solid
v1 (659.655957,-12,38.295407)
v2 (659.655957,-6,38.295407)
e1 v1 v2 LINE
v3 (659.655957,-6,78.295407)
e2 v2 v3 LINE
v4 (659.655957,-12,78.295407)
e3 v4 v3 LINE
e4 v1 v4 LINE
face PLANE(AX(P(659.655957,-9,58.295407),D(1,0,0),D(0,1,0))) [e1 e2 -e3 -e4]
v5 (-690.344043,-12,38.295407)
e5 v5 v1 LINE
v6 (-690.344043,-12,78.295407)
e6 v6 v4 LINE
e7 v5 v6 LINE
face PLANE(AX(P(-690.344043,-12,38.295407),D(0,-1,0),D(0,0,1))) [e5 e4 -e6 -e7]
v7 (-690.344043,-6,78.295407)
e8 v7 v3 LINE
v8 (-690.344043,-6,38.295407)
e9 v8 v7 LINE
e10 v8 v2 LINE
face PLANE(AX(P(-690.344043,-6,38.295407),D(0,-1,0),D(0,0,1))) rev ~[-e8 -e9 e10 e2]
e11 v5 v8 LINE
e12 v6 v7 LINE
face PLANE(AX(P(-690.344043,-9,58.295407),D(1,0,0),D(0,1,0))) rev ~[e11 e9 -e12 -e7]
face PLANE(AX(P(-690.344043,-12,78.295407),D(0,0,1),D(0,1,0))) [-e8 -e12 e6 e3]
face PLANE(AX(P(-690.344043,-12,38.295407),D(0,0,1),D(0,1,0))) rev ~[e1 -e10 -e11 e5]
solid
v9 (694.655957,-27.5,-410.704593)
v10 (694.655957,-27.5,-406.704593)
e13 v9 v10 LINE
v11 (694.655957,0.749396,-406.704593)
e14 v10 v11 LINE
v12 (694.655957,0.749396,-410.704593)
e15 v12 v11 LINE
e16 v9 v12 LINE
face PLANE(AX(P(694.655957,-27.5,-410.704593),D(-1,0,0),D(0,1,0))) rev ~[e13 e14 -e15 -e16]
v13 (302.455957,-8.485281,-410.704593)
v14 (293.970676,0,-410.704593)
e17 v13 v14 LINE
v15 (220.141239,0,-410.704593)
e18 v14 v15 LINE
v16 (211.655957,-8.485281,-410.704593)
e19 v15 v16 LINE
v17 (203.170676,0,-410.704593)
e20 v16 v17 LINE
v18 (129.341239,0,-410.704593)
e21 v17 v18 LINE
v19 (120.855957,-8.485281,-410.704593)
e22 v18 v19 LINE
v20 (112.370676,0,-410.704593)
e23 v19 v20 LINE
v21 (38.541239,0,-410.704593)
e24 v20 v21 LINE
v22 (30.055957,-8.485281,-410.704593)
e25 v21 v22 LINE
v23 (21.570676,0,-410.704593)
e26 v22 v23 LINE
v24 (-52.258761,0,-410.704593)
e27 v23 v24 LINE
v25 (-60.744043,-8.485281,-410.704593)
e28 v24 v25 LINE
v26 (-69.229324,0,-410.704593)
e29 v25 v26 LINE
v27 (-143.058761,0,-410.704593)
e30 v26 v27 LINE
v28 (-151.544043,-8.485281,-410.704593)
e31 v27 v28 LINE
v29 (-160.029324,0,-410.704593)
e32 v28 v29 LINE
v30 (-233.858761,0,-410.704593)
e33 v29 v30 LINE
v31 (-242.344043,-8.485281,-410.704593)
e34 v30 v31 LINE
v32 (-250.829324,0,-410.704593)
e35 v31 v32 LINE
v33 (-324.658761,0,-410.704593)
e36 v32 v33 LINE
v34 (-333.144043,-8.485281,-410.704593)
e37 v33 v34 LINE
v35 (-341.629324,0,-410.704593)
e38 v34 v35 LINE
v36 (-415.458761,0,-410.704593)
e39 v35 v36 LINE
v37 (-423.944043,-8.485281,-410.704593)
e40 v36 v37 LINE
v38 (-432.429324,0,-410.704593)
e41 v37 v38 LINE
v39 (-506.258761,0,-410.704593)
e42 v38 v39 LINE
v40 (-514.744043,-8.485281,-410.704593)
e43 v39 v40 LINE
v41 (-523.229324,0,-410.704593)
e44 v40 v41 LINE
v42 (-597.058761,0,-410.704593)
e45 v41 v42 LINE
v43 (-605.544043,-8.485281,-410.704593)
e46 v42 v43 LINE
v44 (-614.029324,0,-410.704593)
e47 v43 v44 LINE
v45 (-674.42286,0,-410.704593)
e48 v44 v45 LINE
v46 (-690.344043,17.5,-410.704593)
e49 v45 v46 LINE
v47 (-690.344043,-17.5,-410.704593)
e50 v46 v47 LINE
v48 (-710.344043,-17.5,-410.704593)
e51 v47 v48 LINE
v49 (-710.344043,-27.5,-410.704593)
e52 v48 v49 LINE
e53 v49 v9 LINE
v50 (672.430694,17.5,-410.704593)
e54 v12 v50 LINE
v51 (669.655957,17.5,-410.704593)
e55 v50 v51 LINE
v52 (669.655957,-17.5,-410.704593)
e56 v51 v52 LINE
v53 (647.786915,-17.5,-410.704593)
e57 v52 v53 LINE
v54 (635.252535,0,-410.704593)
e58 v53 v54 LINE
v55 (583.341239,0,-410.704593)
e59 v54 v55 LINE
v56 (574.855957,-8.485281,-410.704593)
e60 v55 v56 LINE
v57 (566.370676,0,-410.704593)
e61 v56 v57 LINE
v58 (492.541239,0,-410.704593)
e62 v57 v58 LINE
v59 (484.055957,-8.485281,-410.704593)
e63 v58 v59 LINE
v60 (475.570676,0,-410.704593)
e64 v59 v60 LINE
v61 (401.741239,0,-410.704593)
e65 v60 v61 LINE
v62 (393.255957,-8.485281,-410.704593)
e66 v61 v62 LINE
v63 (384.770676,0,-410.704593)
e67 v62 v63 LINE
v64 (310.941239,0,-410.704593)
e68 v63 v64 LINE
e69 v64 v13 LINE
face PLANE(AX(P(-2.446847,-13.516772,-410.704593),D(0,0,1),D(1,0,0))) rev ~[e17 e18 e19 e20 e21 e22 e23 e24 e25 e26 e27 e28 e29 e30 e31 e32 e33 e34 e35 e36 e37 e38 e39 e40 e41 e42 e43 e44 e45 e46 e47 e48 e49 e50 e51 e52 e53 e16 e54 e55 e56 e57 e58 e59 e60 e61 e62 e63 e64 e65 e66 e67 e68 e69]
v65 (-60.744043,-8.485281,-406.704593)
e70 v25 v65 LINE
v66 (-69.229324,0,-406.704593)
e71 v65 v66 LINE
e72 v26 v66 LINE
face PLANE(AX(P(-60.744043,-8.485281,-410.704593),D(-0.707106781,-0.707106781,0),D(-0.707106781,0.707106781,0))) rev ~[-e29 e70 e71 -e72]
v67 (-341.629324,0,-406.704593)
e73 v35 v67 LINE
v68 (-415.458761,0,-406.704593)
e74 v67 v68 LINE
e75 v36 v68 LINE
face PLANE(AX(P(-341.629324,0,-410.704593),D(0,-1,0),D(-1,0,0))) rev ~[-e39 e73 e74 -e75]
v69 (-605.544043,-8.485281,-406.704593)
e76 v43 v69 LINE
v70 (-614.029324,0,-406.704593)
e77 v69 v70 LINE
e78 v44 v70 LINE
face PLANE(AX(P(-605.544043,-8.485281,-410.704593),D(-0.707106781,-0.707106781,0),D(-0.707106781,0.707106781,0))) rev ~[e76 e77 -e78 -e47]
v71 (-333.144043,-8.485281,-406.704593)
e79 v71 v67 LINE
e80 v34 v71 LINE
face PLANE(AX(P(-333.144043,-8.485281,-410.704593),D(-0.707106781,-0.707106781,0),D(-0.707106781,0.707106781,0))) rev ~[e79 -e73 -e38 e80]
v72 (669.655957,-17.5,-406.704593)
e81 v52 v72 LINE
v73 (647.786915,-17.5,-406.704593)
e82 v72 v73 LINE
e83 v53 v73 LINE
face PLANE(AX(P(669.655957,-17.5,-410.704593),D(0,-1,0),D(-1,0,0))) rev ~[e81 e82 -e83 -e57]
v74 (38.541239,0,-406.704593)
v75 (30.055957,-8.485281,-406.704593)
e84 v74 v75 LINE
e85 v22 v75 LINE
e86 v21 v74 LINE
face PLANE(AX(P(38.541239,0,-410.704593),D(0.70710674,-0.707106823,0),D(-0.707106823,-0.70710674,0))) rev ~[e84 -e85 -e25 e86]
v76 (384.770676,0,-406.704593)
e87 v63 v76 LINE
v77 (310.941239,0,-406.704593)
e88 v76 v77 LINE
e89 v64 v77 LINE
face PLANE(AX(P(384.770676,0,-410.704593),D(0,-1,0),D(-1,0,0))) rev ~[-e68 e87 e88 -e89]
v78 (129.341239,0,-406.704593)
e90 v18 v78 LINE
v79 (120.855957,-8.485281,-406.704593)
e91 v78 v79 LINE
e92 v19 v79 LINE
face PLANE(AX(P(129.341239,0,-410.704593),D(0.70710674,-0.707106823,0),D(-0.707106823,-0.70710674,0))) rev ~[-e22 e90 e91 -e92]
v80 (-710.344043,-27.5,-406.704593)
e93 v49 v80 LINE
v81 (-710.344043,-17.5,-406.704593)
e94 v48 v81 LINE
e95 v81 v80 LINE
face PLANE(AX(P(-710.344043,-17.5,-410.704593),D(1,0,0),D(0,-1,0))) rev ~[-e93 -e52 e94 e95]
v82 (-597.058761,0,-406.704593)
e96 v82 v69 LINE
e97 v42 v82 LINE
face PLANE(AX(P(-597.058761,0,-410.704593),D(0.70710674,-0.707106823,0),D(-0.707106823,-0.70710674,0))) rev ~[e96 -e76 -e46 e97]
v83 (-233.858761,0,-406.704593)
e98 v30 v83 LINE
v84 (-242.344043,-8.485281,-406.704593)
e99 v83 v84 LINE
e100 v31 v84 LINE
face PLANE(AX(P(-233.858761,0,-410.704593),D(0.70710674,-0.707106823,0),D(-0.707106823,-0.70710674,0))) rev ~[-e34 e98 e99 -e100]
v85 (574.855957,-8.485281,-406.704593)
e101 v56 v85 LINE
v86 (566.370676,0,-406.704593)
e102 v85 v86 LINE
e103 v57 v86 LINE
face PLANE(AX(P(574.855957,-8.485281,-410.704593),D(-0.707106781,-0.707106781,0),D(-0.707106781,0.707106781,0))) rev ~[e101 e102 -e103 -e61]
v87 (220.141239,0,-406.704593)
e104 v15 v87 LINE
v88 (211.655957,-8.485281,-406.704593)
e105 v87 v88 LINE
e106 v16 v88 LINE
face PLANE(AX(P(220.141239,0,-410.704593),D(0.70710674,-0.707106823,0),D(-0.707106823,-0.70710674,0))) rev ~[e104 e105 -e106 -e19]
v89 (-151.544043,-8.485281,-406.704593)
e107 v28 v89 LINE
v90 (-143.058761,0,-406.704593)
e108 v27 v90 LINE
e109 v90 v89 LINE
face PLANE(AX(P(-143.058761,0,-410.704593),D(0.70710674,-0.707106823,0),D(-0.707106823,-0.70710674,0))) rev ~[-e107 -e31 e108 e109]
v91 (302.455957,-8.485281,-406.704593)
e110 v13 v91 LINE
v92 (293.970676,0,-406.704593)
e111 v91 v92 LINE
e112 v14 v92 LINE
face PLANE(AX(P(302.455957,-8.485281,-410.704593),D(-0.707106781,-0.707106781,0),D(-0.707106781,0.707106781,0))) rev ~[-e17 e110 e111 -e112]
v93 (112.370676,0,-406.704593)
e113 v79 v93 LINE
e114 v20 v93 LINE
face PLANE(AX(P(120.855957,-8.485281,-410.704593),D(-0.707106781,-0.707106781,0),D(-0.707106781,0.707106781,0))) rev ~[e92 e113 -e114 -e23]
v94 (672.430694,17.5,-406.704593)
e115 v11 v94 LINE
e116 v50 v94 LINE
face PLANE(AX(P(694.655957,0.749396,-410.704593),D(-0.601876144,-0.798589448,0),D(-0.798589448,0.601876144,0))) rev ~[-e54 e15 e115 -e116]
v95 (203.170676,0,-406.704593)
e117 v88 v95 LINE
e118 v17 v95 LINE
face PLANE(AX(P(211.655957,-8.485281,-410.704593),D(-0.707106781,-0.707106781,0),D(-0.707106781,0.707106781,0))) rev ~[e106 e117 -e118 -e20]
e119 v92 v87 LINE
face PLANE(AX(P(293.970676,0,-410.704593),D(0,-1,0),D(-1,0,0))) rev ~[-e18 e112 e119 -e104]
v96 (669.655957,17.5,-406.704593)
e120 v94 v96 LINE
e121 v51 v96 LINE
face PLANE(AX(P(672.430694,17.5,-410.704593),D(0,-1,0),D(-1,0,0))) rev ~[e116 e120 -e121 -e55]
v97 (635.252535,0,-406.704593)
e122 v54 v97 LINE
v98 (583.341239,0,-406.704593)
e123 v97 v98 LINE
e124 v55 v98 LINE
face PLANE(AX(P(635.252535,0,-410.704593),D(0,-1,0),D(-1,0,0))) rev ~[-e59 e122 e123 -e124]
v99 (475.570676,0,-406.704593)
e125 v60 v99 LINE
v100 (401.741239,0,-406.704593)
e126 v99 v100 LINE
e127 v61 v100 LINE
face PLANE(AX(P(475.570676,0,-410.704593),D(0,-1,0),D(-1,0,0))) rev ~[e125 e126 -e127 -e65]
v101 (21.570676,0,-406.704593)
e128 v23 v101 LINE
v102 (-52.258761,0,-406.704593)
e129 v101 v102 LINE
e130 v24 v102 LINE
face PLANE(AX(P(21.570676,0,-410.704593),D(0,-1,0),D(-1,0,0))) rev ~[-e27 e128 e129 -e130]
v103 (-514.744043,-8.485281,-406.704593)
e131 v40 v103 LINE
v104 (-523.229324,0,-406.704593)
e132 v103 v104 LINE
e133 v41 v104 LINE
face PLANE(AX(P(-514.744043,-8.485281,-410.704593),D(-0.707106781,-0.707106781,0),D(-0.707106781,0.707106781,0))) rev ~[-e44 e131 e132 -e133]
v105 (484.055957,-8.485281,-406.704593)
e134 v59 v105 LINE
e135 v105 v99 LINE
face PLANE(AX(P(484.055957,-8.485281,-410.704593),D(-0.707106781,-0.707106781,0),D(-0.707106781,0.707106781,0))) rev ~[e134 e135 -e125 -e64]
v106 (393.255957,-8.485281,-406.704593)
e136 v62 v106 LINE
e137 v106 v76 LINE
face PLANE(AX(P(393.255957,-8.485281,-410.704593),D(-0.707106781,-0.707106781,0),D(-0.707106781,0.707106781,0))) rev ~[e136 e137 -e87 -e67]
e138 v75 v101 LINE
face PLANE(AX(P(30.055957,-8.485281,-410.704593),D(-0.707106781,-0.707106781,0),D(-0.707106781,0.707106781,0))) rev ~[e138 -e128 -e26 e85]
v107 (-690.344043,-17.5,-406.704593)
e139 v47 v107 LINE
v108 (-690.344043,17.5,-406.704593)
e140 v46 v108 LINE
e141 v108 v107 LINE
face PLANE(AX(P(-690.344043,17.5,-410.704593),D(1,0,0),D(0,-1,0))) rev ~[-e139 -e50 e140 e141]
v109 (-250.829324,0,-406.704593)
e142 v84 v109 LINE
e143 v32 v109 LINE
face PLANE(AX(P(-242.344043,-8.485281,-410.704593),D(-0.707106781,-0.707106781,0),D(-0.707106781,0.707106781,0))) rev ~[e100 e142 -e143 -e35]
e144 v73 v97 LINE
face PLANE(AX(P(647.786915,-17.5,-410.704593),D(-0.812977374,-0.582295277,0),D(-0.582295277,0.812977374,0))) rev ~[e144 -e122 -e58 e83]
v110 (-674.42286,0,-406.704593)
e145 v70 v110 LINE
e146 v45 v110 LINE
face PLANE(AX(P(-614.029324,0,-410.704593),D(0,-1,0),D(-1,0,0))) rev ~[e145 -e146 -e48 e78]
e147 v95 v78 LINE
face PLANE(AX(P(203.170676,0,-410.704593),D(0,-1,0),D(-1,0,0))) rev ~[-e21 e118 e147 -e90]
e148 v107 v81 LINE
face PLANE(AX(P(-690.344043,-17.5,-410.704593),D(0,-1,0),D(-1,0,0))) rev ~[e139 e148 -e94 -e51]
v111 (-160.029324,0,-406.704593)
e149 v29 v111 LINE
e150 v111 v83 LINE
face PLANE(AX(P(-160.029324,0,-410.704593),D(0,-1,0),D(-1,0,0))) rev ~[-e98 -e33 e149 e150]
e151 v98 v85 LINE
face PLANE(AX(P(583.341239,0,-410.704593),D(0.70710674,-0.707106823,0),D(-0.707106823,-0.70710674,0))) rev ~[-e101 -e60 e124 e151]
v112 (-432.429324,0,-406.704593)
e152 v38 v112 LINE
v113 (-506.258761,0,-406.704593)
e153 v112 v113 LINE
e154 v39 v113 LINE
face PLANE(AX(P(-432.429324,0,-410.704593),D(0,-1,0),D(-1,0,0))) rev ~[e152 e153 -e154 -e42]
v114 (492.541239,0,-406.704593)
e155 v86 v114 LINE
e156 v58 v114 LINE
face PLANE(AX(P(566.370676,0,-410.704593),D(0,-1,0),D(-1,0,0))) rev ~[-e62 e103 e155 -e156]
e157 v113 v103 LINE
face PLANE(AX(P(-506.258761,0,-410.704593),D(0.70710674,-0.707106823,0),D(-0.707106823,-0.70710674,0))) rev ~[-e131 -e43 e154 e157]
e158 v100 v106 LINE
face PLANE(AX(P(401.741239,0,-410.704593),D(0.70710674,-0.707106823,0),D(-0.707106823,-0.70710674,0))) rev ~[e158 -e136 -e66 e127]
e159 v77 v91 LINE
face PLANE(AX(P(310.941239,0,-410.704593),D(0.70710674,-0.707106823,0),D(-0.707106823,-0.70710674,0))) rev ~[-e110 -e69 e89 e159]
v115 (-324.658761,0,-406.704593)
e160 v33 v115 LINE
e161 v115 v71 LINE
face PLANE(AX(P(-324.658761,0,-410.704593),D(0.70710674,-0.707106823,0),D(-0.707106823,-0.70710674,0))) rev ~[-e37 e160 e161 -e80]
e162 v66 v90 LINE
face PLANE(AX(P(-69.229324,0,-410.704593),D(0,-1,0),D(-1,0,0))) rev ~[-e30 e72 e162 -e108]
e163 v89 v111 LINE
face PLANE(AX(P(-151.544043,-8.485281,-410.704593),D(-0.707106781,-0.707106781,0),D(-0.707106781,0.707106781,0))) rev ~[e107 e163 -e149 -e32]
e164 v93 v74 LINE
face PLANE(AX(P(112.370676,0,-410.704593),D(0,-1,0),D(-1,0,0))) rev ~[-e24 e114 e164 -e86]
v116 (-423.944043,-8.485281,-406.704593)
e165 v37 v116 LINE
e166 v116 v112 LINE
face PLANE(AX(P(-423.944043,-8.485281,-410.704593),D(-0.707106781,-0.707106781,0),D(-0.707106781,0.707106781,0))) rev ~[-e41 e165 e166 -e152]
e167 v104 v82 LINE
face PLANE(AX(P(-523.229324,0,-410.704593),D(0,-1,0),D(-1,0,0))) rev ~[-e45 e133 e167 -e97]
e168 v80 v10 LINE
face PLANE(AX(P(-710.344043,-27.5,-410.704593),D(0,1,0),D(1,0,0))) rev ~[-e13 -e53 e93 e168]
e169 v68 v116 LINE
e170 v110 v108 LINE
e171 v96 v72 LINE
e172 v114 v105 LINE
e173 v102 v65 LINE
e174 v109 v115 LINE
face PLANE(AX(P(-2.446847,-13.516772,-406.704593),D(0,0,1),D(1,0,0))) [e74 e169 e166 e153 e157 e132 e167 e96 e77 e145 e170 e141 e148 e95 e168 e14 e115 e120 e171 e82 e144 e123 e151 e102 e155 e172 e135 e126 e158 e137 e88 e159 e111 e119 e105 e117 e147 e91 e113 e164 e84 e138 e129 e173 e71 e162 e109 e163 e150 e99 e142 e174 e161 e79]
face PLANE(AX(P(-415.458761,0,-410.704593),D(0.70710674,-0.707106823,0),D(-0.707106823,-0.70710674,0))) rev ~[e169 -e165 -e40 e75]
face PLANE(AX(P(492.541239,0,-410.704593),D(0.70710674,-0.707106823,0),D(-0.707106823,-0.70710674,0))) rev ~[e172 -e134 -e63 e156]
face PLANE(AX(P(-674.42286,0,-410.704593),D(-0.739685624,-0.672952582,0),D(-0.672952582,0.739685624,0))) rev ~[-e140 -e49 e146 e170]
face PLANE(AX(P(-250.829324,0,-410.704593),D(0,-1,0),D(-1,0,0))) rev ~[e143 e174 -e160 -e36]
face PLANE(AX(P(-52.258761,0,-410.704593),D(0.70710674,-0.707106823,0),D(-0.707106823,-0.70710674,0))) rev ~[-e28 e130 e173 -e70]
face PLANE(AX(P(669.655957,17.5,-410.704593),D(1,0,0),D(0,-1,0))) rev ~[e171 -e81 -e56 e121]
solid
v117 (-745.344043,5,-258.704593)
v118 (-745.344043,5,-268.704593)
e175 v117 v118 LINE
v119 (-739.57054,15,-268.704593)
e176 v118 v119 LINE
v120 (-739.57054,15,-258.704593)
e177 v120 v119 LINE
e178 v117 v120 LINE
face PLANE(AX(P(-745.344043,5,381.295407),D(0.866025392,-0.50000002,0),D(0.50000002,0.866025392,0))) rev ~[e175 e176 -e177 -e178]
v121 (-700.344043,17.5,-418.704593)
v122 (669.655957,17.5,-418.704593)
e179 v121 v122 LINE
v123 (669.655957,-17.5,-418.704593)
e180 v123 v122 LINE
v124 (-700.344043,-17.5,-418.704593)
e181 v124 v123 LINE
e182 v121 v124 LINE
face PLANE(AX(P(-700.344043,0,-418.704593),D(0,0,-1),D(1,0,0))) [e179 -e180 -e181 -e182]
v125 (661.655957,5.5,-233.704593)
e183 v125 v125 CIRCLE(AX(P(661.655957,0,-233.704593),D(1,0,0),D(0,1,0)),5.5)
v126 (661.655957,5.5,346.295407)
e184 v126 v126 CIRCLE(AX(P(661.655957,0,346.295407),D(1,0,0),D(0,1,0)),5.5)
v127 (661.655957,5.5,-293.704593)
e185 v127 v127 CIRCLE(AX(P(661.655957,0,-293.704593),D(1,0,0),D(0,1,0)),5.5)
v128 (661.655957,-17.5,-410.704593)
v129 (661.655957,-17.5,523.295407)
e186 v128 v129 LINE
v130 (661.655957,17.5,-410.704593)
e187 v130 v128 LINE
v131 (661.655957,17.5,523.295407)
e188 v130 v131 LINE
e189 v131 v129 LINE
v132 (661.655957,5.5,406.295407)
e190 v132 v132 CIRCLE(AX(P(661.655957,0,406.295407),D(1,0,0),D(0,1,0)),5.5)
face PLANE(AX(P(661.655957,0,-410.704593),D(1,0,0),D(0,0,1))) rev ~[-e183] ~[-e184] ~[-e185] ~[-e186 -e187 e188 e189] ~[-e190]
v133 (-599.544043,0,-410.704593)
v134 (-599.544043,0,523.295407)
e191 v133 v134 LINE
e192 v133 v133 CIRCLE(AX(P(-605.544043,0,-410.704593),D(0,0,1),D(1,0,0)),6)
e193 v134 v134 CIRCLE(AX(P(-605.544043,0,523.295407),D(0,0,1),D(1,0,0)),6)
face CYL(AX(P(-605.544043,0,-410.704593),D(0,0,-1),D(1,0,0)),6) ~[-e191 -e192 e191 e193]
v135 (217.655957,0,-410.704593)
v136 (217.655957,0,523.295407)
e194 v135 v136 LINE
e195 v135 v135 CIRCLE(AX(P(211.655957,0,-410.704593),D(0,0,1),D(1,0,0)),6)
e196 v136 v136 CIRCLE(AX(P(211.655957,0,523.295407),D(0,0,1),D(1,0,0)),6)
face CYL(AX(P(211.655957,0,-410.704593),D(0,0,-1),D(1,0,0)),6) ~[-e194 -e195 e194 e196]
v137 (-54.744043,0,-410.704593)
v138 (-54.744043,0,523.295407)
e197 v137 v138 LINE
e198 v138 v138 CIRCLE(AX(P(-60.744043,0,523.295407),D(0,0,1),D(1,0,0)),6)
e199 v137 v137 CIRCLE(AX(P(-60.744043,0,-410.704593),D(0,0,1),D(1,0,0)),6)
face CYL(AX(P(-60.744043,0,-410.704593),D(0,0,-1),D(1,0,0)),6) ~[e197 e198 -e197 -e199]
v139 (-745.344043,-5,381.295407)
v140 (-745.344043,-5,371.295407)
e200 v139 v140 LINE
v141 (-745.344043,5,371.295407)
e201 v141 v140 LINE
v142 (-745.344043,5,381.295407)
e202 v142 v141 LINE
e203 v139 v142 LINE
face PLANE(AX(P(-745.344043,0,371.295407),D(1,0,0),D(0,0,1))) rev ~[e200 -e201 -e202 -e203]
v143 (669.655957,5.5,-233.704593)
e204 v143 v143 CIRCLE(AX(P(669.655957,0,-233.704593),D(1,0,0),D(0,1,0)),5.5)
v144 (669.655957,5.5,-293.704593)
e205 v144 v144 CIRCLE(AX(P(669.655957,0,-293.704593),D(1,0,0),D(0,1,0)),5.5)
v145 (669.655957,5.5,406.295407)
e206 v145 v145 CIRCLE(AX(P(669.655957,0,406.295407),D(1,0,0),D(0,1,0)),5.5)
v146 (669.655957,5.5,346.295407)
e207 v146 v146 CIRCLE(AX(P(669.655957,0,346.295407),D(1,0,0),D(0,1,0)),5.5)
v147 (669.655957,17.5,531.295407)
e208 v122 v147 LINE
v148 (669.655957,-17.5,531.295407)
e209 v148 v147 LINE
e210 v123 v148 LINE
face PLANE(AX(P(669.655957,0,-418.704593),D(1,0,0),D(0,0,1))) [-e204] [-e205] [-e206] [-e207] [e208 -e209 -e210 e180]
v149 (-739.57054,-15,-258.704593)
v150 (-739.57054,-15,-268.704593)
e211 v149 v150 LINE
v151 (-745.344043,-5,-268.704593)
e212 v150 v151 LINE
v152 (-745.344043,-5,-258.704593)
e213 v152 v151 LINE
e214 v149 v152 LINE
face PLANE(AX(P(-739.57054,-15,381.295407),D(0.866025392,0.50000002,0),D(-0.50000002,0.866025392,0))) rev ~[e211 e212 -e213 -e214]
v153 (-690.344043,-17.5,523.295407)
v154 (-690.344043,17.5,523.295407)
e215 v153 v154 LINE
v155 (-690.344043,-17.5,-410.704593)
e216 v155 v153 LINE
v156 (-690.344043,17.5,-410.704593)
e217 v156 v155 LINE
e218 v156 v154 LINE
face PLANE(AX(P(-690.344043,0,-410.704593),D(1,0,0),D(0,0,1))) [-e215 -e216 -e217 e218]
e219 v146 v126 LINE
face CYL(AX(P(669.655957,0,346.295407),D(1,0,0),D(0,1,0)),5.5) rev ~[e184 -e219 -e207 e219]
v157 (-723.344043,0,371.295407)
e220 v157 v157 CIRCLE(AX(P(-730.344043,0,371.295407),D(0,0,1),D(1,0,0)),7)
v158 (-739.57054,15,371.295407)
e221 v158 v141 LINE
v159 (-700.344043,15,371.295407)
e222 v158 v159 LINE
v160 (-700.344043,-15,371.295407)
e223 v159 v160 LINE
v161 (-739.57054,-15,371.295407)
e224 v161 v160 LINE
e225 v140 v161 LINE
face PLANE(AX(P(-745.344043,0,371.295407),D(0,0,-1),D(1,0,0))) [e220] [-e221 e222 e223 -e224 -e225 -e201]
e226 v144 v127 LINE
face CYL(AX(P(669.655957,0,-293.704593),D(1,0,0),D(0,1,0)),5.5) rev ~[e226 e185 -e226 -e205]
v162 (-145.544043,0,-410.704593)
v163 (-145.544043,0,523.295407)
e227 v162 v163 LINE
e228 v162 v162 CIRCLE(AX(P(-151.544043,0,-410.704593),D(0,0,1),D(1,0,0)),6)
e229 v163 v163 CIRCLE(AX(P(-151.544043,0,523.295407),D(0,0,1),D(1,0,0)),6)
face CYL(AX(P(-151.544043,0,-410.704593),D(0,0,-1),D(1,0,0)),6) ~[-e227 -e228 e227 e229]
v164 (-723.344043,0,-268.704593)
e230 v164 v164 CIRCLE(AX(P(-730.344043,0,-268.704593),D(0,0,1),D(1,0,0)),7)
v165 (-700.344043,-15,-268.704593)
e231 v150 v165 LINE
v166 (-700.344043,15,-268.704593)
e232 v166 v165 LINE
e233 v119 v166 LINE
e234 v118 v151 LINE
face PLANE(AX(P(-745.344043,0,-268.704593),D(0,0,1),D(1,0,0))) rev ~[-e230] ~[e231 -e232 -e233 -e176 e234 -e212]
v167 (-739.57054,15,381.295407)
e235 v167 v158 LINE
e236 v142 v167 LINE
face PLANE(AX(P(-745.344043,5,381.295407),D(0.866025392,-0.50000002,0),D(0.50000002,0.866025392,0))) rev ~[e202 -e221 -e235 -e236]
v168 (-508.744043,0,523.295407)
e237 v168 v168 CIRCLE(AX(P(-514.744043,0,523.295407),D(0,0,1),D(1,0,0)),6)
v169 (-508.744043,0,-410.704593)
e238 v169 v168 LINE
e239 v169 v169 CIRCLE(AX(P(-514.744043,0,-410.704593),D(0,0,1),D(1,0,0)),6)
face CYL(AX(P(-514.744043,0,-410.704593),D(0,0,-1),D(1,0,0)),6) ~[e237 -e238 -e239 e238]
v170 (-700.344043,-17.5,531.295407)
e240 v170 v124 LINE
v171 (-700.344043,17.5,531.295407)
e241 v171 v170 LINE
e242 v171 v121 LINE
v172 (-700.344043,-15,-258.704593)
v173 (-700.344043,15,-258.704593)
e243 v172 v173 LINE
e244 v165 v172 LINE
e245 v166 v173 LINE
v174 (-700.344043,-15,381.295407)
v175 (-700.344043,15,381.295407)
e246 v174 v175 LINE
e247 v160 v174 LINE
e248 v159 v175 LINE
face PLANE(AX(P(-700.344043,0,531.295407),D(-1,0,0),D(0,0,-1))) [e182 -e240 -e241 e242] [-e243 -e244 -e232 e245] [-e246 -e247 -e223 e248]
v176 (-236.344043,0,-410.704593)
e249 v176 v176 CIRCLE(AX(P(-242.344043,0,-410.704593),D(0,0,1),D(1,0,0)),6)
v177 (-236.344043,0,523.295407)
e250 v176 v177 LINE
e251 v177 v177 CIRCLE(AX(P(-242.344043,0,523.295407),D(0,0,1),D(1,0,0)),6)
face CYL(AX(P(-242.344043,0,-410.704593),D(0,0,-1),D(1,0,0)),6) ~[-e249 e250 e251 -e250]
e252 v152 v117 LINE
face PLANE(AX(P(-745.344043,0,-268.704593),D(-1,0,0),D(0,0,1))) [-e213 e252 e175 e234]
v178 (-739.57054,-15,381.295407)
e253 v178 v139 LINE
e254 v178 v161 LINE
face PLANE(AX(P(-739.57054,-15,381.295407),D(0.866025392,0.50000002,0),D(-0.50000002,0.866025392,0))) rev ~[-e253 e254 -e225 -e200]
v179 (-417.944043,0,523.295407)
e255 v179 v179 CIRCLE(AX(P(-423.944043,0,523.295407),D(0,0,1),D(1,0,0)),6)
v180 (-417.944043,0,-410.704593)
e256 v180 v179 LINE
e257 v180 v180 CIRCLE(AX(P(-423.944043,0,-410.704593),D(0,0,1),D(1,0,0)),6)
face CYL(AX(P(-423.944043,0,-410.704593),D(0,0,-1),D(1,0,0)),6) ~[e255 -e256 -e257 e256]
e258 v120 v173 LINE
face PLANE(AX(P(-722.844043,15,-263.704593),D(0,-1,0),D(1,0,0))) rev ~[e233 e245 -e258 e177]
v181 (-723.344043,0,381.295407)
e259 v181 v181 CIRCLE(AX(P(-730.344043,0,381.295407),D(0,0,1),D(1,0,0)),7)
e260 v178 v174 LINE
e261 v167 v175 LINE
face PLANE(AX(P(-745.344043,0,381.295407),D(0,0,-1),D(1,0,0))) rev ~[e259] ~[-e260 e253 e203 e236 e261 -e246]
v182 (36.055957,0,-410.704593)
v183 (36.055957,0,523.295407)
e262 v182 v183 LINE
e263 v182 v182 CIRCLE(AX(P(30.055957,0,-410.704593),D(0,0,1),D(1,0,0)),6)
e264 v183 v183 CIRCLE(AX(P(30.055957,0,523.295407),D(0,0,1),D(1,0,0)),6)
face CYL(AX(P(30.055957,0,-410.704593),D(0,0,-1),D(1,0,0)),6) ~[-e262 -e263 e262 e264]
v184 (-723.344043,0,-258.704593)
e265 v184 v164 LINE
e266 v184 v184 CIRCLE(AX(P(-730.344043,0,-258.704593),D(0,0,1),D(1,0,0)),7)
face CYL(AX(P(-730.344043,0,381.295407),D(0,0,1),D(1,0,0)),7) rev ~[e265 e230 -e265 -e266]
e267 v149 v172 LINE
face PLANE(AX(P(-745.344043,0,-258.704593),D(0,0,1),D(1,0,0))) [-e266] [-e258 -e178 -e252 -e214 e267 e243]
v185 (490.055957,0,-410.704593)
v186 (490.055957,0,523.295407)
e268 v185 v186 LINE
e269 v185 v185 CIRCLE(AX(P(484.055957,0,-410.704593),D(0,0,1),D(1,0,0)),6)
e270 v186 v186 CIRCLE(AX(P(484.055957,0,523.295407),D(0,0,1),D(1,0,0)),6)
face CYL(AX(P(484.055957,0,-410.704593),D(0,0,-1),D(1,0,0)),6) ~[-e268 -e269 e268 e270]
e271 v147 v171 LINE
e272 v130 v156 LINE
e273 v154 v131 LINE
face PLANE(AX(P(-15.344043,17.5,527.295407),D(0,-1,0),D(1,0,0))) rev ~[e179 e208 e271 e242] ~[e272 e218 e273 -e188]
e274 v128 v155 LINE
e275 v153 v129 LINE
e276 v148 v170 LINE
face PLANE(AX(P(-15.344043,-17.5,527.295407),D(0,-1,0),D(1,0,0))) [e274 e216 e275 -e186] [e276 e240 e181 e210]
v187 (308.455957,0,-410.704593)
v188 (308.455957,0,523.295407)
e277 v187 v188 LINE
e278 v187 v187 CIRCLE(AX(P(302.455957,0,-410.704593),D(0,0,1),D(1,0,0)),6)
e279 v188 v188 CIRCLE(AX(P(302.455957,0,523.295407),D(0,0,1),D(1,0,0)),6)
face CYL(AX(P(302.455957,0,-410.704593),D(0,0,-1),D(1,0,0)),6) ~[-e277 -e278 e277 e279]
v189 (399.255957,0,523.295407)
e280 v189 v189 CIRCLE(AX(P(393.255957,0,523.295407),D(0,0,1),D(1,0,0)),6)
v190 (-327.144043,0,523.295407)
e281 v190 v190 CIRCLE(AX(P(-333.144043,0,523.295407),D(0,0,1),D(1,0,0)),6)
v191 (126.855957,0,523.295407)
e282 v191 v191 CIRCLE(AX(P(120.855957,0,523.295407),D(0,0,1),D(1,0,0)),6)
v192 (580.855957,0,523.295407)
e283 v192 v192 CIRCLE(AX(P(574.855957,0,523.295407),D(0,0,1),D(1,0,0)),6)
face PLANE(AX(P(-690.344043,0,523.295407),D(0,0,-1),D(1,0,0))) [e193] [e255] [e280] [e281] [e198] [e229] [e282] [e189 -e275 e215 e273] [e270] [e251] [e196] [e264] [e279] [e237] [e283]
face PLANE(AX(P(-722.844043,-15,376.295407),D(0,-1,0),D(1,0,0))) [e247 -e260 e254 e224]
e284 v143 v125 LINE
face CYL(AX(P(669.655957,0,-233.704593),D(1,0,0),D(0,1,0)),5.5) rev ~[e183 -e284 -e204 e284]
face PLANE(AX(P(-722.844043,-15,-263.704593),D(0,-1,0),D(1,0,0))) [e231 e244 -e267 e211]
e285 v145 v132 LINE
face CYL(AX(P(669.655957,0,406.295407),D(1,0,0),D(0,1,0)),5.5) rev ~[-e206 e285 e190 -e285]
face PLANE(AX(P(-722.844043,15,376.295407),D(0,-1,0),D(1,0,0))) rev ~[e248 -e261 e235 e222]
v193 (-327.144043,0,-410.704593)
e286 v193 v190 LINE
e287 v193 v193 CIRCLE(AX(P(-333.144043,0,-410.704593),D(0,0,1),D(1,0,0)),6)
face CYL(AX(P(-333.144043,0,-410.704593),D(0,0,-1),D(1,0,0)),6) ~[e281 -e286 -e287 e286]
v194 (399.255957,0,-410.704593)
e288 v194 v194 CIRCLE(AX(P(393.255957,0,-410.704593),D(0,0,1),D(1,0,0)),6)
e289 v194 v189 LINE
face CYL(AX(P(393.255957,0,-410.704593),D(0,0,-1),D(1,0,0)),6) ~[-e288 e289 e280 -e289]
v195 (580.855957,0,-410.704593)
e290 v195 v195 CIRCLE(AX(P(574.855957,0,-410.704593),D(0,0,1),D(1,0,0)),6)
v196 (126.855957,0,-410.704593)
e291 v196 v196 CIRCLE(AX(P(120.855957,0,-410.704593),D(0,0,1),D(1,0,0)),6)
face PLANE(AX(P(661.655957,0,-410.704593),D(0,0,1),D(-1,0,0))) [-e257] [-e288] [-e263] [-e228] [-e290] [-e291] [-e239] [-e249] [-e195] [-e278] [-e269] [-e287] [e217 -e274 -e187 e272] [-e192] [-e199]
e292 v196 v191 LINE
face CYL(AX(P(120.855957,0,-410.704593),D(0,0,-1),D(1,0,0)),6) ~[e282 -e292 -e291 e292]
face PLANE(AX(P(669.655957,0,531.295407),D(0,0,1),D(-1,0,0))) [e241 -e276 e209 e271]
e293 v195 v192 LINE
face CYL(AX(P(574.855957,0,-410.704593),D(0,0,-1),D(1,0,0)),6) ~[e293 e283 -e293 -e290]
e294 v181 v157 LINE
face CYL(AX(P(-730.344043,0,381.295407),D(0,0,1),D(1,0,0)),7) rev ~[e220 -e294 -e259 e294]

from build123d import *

# Parameters (mm, degrees)
F0_W      = 8
F0_H      = 934
F1_DEPTH  = 17.5
F2_R      = 6
F3_DEPTH  = 934
F4_W      = 6
F4_H      = 40
F5_DEPTH  = 1350
F0_W_2    = 45
F0_H_2    = 10
F6_DEPTH  = 15
F7_R      = 7
F8_DEPTH  = 800.001
F9_R      = 5.5
F10_DEPTH = 10
F12_DEPTH = 4


with BuildPart() as f1:
    # F0 (on Front) → F1 (new body, symmetric)
    with BuildSketch(Plane.XZ):
        Polygon((669.655957, 531.295407), (-700.344043, 531.295407), (-700.344043, 523.295407), (-690.344043, 523.295407), (-609.544043, 523.295407), (-597.544043, 523.295407), (661.655957, 523.295407), (669.655957, 523.295407), align=None)
        Polygon((669.655957, -418.704593), (669.655957, -410.704593), (661.655957, -410.704593), (-597.544043, -410.704593), (-609.544043, -410.704593), (-690.344043, -410.704593), (-700.344043, -410.704593), (-700.344043, -418.704593), align=None)
        with Locations((665.655957, 56.295407)):
            Rectangle(F0_W, F0_H)
        Polygon((-690.344043, 523.295407), (-700.344043, 523.295407), (-700.344043, 381.295407), (-700.344043, 371.295407), (-700.344043, -258.704593), (-700.344043, -268.704593), (-700.344043, -410.704593), (-690.344043, -410.704593), align=None)
    extrude(amount=F1_DEPTH, both=True)

    # F2 (on face) → F3 (join)
    with BuildSketch(Plane.XY.offset(-410.704593)):
        with Locations((-605.544043, 0)):
            Circle(F2_R)
        with Locations((-514.744043, 0)):
            Circle(F2_R)
        with Locations((-423.944043, 0)):
            Circle(F2_R)
        with Locations((-333.144043, 0)):
            Circle(F2_R)
        with Locations((-242.344043, 0)):
            Circle(F2_R)
        with Locations((-151.544043, 0)):
            Circle(F2_R)
        with Locations((-60.744043, 0)):
            Circle(F2_R)
        with Locations((30.055957, 0)):
            Circle(F2_R)
        with Locations((120.855957, 0)):
            Circle(F2_R)
        with Locations((211.655957, 0)):
            Circle(F2_R)
        with Locations((302.455957, 0)):
            Circle(F2_R)
        with Locations((393.255957, 0)):
            Circle(F2_R)
        with Locations((484.055957, 0)):
            Circle(F2_R)
        with Locations((574.855957, 0)):
            Circle(F2_R)
    extrude(amount=F3_DEPTH)

    # F0 (on Front) → F6 (join, symmetric)
    with BuildSketch(Plane.XZ):
        with Locations((-722.844043, -263.704593)):
            Rectangle(F0_W_2, F0_H_2)
        with Locations((-722.844043, 376.295407)):
            Rectangle(F0_W_2, F0_H_2)
    extrude(amount=F6_DEPTH, both=True)

    # F7 (on face) → F8 (cut, through all)
    with BuildSketch(Plane.XY.offset(381.295407)):
        with Locations((-730.344043, 0)):
            Circle(F7_R)
        Polygon((-745.344043, 15), (-745.344043, 5), (-739.57054, 15), align=None)
        Polygon((-739.57054, -15), (-745.344043, -5), (-745.344043, -15), align=None)
    extrude(amount=-F8_DEPTH, mode=Mode.SUBTRACT)

    # F9 (on face) → F10 (cut)
    with BuildSketch(Plane.YZ.offset(669.655957)):
        with Locations((0, 406.295407)):
            Circle(F9_R)
        with Locations((0, 346.295407)):
            Circle(F9_R)
        with Locations((0, -293.704593)):
            Circle(F9_R)
        with Locations((0, -233.704593)):
            Circle(F9_R)
    extrude(amount=-F10_DEPTH, mode=Mode.SUBTRACT)


with BuildPart() as f5:
    # F4 (on face) → F5 (new body)
    with BuildSketch(Plane.YZ.offset(-690.344043)):
        with Locations((-9, 58.295407)):
            Rectangle(F4_W, F4_H)
    extrude(amount=F5_DEPTH)


with BuildPart() as f12:
    # F11 (on face) → F12 (new body)
    with BuildSketch(Plane.XY.offset(-410.704593)):
        Polygon((-605.544043, -8.485281), (-614.029324, 0), (-674.42286, 0), (-690.344043, 17.5), (-690.344043, 0), (-690.344043, -17.5), (-710.344043, -17.5), (-710.344043, -27.5), (694.655957, -27.5), (694.655957, -17.5), (694.655957, 0.749396), (672.430694, 17.5), (669.655957, 17.5), (669.655957, -17.5), (661.655957, -17.5), (647.786915, -17.5), (635.252535, 0), (583.341239, 0), (574.855957, -8.485281), (566.370676, 0), (492.541239, 0), (484.055957, -8.485281), (475.570676, 0), (401.741239, 0), (393.255957, -8.485281), (384.770676, 0), (310.941239, 0), (302.455957, -8.485281), (293.970676, 0), (220.141239, 0), (211.655957, -8.485281), (203.170676, 0), (129.341239, 0), (120.855957, -8.485281), (112.370676, 0), (38.541239, 0), (30.055957, -8.485281), (21.570676, 0), (-52.258761, 0), (-60.744043, -8.485281), (-69.229324, 0), (-143.058761, 0), (-151.544043, -8.485281), (-160.029324, 0), (-233.858761, 0), (-242.344043, -8.485281), (-250.829324, 0), (-324.658761, 0), (-333.144043, -8.485281), (-341.629324, 0), (-415.458761, 0), (-423.944043, -8.485281), (-432.429324, 0), (-506.258761, 0), (-514.744043, -8.485281), (-523.229324, 0), (-597.058761, 0), align=None)
    extrude(amount=F12_DEPTH)


with BuildPart() as f13_1:
    # F13: copy of F12
    add(f12.part)


solid = Compound([f1.part, f5.part, f12.part])
